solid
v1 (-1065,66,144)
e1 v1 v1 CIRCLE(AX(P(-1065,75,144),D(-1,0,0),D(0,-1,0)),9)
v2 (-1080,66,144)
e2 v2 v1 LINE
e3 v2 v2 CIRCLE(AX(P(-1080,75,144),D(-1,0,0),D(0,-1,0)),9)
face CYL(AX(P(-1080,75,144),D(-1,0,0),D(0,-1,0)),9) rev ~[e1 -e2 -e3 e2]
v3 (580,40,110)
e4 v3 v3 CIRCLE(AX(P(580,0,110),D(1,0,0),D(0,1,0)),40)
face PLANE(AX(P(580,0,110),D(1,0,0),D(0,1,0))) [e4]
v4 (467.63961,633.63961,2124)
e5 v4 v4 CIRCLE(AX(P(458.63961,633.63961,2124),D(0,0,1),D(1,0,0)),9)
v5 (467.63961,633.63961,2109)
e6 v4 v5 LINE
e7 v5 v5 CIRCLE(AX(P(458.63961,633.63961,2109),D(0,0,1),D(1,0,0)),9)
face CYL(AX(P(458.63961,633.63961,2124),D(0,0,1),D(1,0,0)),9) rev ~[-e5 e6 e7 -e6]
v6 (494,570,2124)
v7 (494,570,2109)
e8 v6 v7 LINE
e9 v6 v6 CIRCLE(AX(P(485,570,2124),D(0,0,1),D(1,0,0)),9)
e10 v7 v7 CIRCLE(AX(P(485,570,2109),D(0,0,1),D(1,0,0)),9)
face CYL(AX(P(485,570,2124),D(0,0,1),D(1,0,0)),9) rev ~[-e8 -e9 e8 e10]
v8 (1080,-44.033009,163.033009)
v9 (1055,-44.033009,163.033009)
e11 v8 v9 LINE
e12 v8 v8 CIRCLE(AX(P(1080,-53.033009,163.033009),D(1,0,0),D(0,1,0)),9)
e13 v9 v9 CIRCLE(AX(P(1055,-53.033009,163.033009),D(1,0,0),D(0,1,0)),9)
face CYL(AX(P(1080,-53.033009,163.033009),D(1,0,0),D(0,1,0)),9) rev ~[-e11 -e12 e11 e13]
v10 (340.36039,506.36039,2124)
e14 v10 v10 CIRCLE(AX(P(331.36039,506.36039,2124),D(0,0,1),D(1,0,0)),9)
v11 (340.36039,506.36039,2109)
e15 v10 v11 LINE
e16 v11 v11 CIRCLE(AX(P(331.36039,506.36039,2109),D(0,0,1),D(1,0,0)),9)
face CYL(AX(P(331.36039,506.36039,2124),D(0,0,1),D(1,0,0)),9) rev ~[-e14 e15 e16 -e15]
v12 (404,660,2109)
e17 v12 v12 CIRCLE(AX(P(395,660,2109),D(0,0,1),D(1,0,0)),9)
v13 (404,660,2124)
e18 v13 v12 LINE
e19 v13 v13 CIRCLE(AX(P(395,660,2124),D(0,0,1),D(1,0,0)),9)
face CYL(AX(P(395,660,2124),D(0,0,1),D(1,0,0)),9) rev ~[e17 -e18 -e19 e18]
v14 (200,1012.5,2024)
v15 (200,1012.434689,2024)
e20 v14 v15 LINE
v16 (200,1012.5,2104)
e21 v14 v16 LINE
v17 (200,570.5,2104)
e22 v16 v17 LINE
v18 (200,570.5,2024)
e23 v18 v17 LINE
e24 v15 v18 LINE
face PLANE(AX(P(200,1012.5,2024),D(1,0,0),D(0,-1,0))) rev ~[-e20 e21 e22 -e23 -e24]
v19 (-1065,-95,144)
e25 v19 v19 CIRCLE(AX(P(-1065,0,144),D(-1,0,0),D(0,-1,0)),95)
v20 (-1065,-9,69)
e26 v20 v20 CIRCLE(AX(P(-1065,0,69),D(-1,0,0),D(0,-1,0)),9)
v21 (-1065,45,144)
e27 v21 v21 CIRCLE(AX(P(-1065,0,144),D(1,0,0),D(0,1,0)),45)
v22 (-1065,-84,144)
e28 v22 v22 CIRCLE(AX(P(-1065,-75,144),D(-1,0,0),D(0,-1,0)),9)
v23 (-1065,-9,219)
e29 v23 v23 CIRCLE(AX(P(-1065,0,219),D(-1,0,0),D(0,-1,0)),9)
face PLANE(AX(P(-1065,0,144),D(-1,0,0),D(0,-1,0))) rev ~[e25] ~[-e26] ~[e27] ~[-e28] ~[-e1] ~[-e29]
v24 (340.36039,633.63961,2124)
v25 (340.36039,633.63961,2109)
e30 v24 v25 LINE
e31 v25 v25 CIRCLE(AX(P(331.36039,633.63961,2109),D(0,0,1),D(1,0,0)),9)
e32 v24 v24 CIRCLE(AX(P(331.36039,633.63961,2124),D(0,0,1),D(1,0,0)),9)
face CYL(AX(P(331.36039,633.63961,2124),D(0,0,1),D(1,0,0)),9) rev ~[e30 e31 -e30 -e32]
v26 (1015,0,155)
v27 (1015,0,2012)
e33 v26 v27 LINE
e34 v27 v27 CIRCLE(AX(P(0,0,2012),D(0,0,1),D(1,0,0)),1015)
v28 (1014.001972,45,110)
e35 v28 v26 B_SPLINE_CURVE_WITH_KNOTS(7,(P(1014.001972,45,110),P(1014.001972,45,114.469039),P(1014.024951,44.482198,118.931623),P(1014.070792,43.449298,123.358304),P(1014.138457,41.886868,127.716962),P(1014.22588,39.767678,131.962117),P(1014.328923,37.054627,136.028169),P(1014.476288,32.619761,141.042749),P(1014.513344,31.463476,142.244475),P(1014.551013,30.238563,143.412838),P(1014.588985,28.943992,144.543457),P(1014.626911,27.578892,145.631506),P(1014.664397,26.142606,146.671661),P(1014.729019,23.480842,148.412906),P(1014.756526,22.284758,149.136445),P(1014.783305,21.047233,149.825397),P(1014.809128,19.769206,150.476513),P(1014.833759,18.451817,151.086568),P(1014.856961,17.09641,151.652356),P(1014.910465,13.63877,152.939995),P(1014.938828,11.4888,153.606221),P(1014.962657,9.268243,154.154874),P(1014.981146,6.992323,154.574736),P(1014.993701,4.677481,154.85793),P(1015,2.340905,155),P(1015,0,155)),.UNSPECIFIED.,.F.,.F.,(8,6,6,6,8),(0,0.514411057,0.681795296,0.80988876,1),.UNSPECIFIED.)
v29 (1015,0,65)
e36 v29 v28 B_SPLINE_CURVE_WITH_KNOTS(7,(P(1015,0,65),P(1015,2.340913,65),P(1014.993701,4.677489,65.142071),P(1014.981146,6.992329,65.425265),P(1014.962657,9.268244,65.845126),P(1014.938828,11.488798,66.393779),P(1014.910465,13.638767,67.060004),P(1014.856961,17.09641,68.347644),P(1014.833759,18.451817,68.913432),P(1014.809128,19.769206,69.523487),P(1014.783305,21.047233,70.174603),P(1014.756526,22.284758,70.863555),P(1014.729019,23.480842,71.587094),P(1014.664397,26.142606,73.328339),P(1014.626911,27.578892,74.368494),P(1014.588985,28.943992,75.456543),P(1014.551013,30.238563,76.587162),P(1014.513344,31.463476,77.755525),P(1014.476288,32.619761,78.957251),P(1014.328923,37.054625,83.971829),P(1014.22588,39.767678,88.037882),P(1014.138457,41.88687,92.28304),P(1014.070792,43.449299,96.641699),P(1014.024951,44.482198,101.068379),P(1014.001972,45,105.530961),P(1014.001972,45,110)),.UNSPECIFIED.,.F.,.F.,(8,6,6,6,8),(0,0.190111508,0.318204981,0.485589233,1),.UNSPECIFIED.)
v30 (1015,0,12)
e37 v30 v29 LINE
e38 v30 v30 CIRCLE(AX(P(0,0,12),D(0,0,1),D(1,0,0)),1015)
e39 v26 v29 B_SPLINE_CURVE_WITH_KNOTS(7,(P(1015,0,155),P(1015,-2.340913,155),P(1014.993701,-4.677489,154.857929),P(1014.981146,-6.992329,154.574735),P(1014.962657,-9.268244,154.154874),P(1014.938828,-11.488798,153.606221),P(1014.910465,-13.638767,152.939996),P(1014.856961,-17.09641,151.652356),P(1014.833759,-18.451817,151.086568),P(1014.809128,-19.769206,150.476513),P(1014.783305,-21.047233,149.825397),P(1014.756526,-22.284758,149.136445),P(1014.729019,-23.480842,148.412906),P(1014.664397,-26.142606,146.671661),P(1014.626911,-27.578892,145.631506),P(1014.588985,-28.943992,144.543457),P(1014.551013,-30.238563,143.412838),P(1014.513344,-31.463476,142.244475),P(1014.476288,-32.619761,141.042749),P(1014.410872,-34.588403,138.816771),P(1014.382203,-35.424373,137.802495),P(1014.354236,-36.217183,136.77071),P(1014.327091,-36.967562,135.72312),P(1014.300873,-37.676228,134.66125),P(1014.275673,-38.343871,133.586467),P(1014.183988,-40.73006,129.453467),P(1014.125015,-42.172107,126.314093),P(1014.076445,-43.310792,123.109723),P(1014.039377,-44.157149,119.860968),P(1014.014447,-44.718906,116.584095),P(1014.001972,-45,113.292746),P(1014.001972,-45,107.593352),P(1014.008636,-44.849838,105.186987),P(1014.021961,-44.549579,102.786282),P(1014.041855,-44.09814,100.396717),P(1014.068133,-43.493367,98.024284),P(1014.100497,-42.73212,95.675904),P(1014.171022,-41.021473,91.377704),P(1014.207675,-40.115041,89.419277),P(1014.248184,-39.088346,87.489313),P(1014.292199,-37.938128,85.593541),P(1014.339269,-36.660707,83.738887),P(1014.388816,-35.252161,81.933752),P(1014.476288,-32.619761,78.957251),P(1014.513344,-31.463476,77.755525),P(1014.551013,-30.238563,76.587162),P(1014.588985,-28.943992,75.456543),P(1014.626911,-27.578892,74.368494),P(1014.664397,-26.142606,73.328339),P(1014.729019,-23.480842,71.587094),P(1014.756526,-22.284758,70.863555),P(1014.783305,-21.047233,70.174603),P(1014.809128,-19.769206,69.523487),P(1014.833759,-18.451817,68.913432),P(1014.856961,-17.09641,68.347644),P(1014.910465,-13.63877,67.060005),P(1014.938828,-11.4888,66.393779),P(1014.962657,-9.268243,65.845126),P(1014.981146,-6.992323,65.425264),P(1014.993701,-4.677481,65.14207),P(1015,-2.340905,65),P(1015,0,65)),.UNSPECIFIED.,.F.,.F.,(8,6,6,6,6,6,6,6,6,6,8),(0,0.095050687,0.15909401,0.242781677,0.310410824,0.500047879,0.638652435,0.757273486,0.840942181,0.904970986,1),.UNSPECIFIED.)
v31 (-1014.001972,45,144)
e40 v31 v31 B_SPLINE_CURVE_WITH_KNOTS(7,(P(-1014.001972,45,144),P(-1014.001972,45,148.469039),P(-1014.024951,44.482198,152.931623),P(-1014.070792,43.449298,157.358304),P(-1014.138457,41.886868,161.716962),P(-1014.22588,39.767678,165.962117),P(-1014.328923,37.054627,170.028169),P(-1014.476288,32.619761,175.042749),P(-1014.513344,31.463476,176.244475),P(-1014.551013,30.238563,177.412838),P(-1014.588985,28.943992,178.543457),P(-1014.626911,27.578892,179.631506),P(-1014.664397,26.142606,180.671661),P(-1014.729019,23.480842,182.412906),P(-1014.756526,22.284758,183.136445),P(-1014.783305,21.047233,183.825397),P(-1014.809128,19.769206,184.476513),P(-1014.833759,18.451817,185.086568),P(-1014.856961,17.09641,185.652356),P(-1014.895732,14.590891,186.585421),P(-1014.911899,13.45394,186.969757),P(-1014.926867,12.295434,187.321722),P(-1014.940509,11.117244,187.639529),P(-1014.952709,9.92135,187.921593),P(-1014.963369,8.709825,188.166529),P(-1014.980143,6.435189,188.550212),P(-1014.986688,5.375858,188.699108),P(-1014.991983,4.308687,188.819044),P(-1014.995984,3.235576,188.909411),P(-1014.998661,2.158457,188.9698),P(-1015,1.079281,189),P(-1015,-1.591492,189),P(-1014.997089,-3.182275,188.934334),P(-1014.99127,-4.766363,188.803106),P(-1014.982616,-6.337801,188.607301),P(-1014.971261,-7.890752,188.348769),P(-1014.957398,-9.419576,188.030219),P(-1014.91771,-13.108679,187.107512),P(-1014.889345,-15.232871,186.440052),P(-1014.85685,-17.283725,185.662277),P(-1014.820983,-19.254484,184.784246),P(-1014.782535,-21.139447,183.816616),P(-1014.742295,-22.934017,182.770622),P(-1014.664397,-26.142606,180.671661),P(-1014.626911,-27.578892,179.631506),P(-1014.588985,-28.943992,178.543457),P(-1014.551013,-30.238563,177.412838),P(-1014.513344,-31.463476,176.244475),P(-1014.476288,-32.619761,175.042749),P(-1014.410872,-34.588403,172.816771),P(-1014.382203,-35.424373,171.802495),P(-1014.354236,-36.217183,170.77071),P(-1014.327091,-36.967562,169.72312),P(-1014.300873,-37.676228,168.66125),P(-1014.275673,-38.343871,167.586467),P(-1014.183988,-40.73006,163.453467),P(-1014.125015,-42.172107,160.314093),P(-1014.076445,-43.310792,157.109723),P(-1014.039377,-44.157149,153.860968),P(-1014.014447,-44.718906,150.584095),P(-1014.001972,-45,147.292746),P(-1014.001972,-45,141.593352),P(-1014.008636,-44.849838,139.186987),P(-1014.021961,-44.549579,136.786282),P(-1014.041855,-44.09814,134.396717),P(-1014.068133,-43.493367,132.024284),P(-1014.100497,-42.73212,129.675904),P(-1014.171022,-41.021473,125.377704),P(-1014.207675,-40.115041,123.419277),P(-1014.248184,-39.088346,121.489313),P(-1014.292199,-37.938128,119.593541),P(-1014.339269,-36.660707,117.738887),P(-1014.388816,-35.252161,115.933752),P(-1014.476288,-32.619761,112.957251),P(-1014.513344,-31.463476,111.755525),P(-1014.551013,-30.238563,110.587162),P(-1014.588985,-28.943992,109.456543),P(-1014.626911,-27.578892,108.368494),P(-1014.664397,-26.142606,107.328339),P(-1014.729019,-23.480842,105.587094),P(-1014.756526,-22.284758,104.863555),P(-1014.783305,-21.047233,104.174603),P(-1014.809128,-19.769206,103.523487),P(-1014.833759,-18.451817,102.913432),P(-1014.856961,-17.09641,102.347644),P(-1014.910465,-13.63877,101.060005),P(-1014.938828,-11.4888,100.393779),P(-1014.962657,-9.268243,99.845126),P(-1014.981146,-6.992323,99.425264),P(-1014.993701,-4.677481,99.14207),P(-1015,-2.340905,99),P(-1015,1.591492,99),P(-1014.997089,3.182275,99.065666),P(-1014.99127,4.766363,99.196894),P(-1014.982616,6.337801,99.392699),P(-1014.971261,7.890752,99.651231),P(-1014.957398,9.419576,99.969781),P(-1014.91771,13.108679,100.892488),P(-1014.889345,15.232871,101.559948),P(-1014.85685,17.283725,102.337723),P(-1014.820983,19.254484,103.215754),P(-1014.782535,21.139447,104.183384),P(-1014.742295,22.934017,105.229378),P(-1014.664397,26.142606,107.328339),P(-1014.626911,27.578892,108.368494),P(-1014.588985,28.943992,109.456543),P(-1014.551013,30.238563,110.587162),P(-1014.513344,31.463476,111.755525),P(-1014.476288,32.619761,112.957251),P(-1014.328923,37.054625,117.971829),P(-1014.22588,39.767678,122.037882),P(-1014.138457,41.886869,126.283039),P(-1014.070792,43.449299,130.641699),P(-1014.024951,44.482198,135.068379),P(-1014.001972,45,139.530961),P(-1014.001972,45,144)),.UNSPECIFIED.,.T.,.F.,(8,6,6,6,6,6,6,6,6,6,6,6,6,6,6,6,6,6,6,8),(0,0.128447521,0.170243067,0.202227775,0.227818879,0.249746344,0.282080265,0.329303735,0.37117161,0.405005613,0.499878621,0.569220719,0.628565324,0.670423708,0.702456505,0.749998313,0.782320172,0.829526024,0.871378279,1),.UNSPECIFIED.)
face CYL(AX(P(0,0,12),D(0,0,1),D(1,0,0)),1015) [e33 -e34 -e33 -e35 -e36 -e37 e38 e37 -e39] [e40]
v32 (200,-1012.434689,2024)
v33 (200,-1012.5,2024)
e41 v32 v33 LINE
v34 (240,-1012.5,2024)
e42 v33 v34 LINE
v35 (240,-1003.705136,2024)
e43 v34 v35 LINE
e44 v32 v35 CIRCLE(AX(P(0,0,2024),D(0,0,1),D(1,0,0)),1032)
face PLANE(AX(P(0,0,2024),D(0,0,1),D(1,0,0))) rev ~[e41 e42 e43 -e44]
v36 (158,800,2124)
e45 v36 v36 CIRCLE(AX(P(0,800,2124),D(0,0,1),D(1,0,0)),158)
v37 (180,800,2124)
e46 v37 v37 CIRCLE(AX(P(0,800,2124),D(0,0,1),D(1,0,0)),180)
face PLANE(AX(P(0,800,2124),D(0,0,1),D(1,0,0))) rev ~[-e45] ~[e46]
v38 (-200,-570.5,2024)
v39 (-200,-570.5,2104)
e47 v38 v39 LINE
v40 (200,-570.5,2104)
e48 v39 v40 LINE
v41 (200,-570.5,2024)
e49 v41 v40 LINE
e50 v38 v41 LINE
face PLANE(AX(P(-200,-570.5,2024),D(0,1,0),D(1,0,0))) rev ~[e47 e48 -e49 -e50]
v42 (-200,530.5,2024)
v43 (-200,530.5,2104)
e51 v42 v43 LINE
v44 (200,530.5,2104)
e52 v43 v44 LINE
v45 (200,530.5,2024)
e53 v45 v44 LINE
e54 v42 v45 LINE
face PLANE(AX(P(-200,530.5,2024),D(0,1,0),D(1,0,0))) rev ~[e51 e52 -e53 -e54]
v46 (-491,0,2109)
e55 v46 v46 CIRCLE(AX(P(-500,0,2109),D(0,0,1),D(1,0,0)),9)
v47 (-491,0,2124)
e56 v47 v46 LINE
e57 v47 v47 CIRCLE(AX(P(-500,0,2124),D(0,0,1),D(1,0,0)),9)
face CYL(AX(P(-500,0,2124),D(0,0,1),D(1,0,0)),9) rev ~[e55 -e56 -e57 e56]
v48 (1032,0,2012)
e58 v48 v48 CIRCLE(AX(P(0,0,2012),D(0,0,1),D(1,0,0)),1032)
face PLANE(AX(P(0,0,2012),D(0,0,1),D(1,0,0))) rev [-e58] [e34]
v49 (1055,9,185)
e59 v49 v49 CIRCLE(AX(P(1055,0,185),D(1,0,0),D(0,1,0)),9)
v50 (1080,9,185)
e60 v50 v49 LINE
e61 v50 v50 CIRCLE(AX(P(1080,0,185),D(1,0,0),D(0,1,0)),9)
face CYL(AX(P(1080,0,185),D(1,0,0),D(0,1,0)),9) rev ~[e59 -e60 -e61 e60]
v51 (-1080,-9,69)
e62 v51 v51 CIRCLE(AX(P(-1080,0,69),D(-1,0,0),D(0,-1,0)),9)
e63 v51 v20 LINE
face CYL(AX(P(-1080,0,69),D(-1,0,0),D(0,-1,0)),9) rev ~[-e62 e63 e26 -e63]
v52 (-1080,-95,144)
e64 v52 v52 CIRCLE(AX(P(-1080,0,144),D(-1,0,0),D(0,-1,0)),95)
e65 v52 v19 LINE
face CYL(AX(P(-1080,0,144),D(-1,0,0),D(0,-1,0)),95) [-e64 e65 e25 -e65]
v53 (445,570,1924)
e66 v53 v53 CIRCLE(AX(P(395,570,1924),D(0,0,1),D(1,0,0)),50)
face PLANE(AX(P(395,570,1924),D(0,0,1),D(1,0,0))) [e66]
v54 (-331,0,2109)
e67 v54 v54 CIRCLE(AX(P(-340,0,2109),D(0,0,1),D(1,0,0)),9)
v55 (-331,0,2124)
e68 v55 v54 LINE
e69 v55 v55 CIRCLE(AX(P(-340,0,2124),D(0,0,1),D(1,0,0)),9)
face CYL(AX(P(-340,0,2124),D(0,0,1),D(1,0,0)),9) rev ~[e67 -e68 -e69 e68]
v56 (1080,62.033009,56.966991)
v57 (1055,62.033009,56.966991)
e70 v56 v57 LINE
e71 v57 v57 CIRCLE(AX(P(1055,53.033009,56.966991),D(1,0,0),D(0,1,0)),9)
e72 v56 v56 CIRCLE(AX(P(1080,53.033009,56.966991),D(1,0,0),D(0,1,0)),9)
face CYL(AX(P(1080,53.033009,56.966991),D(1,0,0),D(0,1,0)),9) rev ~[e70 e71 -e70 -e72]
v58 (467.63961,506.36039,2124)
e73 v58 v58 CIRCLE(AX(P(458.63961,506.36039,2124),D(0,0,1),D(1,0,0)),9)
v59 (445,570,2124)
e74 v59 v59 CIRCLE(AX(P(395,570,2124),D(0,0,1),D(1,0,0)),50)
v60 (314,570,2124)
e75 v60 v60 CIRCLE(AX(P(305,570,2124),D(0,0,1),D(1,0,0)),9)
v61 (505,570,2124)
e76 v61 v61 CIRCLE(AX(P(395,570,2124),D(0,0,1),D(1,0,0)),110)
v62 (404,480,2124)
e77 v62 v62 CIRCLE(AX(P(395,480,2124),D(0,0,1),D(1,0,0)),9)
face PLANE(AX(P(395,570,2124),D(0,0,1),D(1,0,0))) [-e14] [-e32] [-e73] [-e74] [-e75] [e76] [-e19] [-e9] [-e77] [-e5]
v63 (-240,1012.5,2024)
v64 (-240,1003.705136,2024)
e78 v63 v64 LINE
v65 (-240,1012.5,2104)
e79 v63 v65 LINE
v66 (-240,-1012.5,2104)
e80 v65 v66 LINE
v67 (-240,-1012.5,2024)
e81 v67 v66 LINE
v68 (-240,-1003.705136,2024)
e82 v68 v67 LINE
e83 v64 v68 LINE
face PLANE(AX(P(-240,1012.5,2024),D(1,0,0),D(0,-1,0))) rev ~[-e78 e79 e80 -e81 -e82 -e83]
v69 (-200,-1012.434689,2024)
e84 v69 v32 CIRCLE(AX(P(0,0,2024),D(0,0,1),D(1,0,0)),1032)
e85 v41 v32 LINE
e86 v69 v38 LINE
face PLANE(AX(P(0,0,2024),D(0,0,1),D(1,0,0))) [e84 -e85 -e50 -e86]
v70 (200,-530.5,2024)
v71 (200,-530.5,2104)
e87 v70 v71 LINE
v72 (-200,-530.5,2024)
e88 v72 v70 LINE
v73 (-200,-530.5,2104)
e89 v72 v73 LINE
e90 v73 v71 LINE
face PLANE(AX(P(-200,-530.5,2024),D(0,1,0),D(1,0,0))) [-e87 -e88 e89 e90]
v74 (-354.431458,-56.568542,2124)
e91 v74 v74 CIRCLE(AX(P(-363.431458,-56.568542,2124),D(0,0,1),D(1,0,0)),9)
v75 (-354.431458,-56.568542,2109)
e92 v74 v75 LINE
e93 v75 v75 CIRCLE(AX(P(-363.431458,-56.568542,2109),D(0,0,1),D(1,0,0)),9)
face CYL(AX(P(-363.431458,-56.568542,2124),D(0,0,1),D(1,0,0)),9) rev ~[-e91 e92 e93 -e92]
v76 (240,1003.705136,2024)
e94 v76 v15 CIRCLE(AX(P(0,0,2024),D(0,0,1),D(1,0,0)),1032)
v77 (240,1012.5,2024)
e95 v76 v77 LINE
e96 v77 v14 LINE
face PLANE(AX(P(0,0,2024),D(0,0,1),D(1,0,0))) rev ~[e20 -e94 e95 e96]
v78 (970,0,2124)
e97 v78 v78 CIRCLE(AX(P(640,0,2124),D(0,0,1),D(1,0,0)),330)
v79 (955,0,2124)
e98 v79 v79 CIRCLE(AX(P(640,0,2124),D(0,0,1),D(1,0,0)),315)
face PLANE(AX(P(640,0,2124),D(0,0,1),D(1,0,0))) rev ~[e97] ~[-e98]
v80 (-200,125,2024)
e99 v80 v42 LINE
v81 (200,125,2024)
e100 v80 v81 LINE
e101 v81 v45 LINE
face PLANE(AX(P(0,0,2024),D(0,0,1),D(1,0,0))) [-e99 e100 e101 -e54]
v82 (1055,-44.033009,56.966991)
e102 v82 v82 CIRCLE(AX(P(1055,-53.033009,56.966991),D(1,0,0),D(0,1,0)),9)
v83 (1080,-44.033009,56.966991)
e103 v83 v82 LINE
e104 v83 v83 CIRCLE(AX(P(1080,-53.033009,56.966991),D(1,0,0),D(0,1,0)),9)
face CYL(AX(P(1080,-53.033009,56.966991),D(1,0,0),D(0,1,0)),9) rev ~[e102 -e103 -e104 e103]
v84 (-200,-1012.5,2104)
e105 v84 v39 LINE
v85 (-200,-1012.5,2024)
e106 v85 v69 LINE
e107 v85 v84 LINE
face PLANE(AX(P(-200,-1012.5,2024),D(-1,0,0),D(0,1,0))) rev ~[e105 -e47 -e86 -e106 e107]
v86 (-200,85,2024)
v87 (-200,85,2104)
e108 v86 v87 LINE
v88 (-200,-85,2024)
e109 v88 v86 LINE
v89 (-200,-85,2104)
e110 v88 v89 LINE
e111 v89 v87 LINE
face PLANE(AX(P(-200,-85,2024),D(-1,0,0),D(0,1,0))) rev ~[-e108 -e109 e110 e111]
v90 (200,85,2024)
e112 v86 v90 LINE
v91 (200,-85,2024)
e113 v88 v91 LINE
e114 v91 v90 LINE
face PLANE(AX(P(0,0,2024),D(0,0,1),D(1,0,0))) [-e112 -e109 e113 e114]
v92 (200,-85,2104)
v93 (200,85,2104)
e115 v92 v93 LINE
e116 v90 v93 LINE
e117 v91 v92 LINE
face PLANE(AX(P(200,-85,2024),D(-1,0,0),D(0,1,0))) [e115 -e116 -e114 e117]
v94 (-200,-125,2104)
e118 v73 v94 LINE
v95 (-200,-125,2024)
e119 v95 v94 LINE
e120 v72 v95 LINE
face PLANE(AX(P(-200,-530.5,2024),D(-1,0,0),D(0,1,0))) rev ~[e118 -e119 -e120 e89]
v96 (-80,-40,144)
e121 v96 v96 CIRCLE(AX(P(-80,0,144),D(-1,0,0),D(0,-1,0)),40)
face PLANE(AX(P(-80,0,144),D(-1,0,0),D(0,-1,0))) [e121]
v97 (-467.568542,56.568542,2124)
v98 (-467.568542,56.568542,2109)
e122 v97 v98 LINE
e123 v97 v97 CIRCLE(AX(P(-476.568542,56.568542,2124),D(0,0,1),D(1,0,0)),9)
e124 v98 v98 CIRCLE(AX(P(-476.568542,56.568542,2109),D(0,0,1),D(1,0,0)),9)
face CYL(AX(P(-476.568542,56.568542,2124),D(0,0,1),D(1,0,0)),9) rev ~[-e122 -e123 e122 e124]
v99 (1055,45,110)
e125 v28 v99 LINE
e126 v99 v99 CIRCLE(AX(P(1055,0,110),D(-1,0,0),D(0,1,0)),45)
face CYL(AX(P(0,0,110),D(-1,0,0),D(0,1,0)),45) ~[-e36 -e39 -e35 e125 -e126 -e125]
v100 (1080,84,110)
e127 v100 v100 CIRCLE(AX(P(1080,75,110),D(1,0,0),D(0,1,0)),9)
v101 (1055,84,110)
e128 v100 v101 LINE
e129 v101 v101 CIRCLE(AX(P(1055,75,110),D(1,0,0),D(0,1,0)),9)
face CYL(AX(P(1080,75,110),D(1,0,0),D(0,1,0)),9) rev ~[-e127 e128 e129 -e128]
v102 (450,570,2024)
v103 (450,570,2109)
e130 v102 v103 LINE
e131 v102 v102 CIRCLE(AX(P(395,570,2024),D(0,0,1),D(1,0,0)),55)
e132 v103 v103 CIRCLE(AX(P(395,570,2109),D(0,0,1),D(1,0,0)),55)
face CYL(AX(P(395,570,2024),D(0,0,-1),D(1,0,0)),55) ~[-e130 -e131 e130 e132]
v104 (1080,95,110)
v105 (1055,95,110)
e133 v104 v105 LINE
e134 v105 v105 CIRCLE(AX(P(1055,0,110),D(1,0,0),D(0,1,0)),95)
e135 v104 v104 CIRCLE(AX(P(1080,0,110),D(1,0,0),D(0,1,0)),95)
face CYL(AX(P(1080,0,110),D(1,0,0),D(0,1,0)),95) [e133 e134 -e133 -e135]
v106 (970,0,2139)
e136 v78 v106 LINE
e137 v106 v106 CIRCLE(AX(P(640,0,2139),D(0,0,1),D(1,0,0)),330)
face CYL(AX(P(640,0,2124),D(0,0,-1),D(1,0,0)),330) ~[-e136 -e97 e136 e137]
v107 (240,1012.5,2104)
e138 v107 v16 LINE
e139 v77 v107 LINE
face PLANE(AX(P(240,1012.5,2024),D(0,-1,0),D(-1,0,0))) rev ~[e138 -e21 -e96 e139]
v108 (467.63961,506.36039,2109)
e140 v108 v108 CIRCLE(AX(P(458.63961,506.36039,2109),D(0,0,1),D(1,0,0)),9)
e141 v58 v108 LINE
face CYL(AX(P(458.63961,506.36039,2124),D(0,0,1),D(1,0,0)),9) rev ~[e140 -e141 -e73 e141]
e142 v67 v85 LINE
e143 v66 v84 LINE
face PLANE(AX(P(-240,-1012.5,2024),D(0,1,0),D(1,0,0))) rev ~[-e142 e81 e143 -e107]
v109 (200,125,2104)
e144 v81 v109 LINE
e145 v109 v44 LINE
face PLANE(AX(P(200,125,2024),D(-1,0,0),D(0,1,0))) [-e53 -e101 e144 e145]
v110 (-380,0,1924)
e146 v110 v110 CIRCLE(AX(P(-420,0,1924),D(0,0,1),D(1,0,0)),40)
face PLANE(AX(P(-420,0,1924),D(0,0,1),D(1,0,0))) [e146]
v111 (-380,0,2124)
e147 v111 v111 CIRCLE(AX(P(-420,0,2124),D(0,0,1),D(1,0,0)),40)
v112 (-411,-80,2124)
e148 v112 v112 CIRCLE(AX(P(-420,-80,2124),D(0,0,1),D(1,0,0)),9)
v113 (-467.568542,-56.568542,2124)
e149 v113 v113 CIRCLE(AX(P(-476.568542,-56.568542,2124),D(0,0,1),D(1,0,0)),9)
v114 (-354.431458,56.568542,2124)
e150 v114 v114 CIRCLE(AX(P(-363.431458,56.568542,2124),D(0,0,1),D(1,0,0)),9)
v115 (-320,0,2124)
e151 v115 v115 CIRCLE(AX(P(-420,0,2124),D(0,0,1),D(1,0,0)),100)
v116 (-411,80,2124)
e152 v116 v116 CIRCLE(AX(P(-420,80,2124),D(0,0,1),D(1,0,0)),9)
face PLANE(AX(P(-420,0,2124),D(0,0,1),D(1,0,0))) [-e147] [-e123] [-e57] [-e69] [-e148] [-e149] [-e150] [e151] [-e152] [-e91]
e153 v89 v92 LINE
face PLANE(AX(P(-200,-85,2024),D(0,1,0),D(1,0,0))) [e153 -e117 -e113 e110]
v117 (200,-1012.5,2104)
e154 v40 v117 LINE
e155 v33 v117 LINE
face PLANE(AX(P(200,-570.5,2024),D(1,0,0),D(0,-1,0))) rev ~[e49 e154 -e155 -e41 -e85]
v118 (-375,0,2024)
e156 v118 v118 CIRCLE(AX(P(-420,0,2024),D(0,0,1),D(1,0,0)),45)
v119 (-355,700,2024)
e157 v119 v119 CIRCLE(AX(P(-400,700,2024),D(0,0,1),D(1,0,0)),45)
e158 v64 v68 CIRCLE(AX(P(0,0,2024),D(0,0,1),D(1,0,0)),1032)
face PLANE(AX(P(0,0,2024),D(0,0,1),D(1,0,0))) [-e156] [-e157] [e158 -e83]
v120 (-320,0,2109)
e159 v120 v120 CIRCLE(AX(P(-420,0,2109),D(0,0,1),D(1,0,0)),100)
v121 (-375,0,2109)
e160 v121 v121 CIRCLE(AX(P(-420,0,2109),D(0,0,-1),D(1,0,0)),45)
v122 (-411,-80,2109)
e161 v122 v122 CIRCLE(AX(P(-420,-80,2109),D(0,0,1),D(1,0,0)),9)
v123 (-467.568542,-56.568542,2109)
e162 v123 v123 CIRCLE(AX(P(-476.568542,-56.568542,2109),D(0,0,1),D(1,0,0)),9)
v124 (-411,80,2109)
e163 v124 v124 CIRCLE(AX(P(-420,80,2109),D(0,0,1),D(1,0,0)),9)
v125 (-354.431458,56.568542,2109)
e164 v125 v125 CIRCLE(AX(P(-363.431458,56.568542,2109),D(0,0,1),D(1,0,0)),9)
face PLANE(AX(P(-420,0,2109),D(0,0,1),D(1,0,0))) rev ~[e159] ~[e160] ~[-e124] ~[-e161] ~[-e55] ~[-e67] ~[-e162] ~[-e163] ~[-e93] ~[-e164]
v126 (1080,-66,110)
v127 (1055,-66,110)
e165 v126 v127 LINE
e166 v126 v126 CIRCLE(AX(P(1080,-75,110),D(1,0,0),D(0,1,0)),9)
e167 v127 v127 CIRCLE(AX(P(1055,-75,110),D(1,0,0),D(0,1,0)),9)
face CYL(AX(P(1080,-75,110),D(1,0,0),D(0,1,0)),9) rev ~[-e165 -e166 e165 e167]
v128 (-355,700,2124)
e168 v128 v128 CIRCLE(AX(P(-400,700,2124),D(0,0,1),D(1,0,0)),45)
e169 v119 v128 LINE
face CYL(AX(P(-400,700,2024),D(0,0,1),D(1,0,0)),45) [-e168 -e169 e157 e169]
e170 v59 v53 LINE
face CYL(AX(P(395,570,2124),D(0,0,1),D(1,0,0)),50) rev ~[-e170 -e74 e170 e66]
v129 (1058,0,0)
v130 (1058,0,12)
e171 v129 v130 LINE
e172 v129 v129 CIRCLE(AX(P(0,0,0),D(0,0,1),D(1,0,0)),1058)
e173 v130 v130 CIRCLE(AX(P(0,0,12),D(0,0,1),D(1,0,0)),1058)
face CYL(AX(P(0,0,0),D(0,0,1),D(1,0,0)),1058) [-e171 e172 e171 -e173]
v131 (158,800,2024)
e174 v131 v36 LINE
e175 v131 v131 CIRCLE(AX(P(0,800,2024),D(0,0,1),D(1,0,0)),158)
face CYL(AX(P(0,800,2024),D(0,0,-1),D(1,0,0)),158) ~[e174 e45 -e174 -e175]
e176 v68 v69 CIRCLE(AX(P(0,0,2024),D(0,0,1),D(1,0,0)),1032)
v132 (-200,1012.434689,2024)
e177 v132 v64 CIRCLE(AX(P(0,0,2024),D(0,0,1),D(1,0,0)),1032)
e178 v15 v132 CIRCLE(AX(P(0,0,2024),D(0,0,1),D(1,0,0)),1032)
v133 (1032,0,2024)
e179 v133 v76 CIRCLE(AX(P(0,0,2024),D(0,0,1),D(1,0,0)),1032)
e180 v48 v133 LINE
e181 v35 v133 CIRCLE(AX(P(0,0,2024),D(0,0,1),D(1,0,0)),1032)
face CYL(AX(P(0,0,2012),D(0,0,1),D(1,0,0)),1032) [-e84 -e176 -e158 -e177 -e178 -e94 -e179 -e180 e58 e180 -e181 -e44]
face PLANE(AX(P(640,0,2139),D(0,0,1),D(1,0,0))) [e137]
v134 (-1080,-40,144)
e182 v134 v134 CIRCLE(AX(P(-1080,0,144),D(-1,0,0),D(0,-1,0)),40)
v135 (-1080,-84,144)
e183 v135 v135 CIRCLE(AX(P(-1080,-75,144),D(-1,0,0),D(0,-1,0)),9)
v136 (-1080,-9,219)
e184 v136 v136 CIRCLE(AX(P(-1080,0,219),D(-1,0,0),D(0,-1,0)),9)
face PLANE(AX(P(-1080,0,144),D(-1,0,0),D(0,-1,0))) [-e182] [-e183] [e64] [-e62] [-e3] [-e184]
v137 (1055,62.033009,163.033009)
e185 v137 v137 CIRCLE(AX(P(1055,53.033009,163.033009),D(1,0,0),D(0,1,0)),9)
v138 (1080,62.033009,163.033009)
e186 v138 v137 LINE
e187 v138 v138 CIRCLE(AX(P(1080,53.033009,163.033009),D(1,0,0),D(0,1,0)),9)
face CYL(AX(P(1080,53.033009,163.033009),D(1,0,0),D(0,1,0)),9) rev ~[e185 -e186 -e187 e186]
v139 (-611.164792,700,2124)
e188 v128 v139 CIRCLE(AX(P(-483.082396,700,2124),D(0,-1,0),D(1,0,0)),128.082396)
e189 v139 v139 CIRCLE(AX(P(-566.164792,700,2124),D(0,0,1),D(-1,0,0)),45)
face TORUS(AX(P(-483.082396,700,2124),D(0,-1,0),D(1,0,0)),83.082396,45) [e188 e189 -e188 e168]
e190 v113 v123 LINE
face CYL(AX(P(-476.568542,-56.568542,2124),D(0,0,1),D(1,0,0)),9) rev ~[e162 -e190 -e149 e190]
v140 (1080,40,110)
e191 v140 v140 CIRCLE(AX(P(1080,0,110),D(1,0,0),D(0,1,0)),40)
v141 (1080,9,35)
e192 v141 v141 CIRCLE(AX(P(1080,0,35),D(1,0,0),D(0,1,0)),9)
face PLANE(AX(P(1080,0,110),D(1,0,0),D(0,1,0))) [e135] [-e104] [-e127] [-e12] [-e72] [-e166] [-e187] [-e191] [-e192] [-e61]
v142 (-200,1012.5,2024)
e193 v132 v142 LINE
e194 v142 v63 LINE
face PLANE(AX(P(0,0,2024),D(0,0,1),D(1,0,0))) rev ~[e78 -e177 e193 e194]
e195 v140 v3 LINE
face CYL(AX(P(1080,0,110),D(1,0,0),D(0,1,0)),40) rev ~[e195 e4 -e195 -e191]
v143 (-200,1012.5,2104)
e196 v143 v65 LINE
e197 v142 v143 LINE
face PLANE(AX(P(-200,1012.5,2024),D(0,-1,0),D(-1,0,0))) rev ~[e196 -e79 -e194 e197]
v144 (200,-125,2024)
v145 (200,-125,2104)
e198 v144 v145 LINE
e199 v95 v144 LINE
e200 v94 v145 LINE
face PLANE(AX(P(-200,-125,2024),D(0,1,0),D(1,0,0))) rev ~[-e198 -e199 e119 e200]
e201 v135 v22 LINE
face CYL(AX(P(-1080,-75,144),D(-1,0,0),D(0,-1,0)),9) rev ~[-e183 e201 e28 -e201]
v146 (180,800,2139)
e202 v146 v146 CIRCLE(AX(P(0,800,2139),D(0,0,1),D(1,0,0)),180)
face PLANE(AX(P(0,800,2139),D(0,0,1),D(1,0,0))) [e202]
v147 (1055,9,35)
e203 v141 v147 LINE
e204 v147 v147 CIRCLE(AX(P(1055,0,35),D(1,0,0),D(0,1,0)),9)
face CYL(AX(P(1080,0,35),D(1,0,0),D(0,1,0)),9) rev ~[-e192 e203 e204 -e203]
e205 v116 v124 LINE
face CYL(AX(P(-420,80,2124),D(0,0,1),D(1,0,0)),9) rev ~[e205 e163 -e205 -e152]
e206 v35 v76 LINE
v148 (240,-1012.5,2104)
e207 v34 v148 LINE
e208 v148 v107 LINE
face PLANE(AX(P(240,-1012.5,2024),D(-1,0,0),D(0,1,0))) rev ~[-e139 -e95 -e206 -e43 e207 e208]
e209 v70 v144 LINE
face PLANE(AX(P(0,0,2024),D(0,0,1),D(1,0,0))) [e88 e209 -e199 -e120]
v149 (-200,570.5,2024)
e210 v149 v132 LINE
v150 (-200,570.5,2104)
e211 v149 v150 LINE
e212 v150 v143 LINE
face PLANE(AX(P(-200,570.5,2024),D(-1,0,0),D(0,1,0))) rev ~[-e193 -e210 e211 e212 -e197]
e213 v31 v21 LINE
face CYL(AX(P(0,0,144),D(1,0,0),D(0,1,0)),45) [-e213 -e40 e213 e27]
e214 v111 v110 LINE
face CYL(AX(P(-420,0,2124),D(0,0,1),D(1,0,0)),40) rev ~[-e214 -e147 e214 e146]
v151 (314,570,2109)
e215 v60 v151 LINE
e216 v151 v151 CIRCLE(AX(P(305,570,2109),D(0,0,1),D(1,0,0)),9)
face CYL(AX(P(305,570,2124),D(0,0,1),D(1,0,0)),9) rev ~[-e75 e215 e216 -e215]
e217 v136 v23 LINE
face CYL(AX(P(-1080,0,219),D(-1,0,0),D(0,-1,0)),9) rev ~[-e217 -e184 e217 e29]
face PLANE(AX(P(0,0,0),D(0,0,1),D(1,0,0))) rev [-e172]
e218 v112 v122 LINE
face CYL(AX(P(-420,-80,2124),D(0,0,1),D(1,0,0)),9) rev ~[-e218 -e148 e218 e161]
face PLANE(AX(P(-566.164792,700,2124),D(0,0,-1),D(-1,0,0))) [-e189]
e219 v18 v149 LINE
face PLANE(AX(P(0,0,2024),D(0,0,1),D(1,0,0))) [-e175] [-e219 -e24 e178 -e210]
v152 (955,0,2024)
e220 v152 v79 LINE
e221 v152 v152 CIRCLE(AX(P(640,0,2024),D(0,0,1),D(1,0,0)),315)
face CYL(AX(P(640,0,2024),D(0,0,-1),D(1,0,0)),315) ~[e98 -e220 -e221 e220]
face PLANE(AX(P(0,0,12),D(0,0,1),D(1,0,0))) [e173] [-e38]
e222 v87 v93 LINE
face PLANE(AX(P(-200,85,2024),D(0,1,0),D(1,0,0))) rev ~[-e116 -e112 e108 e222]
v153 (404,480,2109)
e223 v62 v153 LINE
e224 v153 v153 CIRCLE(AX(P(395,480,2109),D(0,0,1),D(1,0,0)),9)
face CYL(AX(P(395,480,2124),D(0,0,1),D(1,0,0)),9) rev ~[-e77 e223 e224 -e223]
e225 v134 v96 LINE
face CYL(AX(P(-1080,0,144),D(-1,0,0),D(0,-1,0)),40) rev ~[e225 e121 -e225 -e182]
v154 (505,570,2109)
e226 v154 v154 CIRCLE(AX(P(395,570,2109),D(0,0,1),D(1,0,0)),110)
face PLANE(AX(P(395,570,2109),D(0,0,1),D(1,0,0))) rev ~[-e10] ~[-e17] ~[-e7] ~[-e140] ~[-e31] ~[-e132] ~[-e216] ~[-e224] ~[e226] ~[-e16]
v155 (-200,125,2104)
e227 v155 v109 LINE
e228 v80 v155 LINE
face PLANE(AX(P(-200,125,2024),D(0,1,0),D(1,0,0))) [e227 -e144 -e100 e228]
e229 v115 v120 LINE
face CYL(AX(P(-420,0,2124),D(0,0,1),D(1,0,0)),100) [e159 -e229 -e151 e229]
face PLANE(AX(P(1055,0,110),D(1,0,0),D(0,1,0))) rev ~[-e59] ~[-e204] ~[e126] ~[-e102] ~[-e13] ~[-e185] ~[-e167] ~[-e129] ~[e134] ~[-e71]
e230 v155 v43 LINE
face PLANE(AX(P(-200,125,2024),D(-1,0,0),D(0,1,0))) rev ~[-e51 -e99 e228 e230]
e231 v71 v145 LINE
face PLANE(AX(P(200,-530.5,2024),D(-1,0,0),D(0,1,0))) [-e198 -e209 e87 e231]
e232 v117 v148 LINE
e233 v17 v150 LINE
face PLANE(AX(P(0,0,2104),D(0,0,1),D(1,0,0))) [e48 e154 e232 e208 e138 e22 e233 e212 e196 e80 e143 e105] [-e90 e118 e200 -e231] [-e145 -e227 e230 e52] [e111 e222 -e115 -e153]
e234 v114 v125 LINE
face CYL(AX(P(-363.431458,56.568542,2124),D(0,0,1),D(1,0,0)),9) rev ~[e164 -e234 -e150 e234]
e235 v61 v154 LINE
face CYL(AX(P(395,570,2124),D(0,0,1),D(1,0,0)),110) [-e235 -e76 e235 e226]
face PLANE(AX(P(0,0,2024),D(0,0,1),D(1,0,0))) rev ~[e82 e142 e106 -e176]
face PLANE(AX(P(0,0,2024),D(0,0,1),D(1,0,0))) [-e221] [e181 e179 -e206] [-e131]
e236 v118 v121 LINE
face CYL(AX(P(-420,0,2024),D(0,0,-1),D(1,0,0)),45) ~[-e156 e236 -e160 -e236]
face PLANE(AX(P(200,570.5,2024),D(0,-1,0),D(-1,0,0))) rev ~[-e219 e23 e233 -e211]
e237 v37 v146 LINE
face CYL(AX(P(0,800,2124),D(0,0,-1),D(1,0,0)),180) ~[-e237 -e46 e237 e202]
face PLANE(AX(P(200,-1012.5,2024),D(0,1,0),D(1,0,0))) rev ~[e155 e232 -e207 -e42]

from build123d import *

# Parameters (mm, degrees)
F2_W      = 400
F2_H      = 405.5
F2_H_2    = 170
F3_DEPTH  = 80
F4_R      = 315
F5_DEPTH  = 100
F6_R      = 330
F7_DEPTH  = 15
F8_R      = 45
F9_DEPTH  = 100
F10_R     = 100
F10_R_2   = 9
F11_DEPTH = 15
F12_R     = 40
F13_DEPTH = 200
F14_R     = 158
F15_DEPTH = 100
F16_R     = 180
F17_DEPTH = 15
F18_R     = 55
F19_DEPTH = 100
F20_R     = 110
F20_R_2   = 9
F20_R_3   = 55
F21_DEPTH = 15
F22_R     = 50
F23_DEPTH = 200
F24_R     = 45
F28_R     = 45
F29_DEPTH = 1080
F30_R     = 95
F30_R_2   = 9
F31_DEPTH = 25
F32_R     = 40
F33_DEPTH = 500
F34_R     = 45
F35_DEPTH = 1080
F36_R     = 95
F36_R_2   = 9
F37_DEPTH = 15
F38_R     = 40
F39_DEPTH = 1000


with BuildPart() as f1:
    # F0 (on Front) → F1 (revolve)
    with BuildSketch(Plane.XZ):
        Polygon((0, 2024), (0, 0), (1015, 0), (1058, 0), (1058, 12), (1015, 12), (1015, 2012), (1032, 2012), (1032, 2024), (1015, 2024), align=None)
    revolve(axis=Axis((0, 0, 1012), (0, 0, 1)))

    # F2 (on face) → F3 (join)
    with BuildSketch(Plane.XY.offset(2024)):
        Polygon((-200, 1012.5), (-240, 1012.5), (-240, -1012.5), (-200, -1012.5), (-200, -570.5), (200, -570.5), (200, -1012.5), (240, -1012.5), (240, 1012.5), (200, 1012.5), (200, 570.5), (-200, 570.5), align=None)
        with Locations((0, -327.75)):
            Rectangle(F2_W, F2_H, mode=Mode.SUBTRACT)
        Rectangle(F2_W, F2_H_2, mode=Mode.SUBTRACT)
        with Locations((0, 327.75)):
            Rectangle(F2_W, F2_H, mode=Mode.SUBTRACT)
    extrude(amount=F3_DEPTH)

    # F4 (on face) → F5 (join)
    with BuildSketch(Plane.XY.offset(2024)):
        with Locations((640, 0)):
            Circle(F4_R)
    extrude(amount=F5_DEPTH)

    # F6 (on face) → F7 (join)
    with BuildSketch(Plane.XY.offset(2124)):
        with Locations((640, 0)):
            Circle(F6_R)
    extrude(amount=F7_DEPTH)

    # F8 (on face) → F9 (join)
    with BuildSketch(Plane.XY.offset(2024)):
        with Locations((-420, 0)):
            Circle(F8_R)
    extrude(amount=F9_DEPTH)

    # F10 (on face) → F11 (join)
    with BuildSketch(Plane.XY.offset(2124)):
        with Locations((-420, 0)):
            Circle(F10_R)
        with Locations((-476.568542, -56.568542)):
            Circle(F10_R_2, mode=Mode.SUBTRACT)
        with Locations((-420, -80)):
            Circle(F10_R_2, mode=Mode.SUBTRACT)
        with Locations((-363.431458, -56.568542)):
            Circle(F10_R_2, mode=Mode.SUBTRACT)
        with Locations((-500, 0)):
            Circle(F10_R_2, mode=Mode.SUBTRACT)
        with Locations((-476.568542, 56.568542)):
            Circle(F10_R_2, mode=Mode.SUBTRACT)
        with Locations((-340, 0)):
            Circle(F10_R_2, mode=Mode.SUBTRACT)
        with Locations((-420, 80)):
            Circle(F10_R_2, mode=Mode.SUBTRACT)
        with Locations((-363.431458, 56.568542)):
            Circle(F10_R_2, mode=Mode.SUBTRACT)
    extrude(amount=-F11_DEPTH)

    # F12 (on face) → F13 (cut)
    with BuildSketch(Plane.XY.offset(2124)):
        with Locations((-420, 0)):
            Circle(F12_R)
    extrude(amount=-F13_DEPTH, mode=Mode.SUBTRACT)

    # F14 (on face) → F15 (join)
    with BuildSketch(Plane.XY.offset(2024)):
        with Locations((0, 800)):
            Circle(F14_R)
    extrude(amount=F15_DEPTH)

    # F16 (on face) → F17 (join)
    with BuildSketch(Plane.XY.offset(2124)):
        with Locations((0, 800)):
            Circle(F16_R)
    extrude(amount=F17_DEPTH)

    # F18 (on face) → F19 (join)
    with BuildSketch(Plane.XY.offset(2024)):
        with Locations((395, 570)):
            Circle(F18_R)
    extrude(amount=F19_DEPTH)

    # F20 (on face) → F21 (join)
    with BuildSketch(Plane.XY.offset(2124)):
        with Locations((395, 570)):
            Circle(F20_R)
        with Locations((331.36039, 506.36039)):
            Circle(F20_R_2, mode=Mode.SUBTRACT)
        with Locations((395, 480)):
            Circle(F20_R_2, mode=Mode.SUBTRACT)
        with Locations((458.63961, 506.36039)):
            Circle(F20_R_2, mode=Mode.SUBTRACT)
        with Locations((305, 570)):
            Circle(F20_R_2, mode=Mode.SUBTRACT)
        with Locations((331.36039, 633.63961)):
            Circle(F20_R_2, mode=Mode.SUBTRACT)
        with Locations((395, 570)):
            Circle(F20_R_3, mode=Mode.SUBTRACT)
        with Locations((485, 570)):
            Circle(F20_R_2, mode=Mode.SUBTRACT)
        with Locations((395, 660)):
            Circle(F20_R_2, mode=Mode.SUBTRACT)
        with Locations((458.63961, 633.63961)):
            Circle(F20_R_2, mode=Mode.SUBTRACT)
    extrude(amount=-F21_DEPTH)

    # F22 (on face) → F23 (cut)
    with BuildSketch(Plane.XY.offset(2124)):
        with Locations((395, 570)):
            Circle(F22_R)
    extrude(amount=-F23_DEPTH, mode=Mode.SUBTRACT)

    # F27: sweep along a path in F26
    with BuildLine(Plane.XZ.offset(-700)) as f27_path:
        Line((-400, 2024), (-400, 2124))
        ThreePointArc((-400, 2124), (-483.082396, 2207.082396), (-566.164792, 2124))
    # F24 (on face) → F27 (sweep)
    with BuildSketch(Plane.XY.offset(2024)):
        with Locations((-400, 700)):
            Circle(F24_R)
    sweep(path=f27_path.line)

    # F28 (on Right) → F29 (join)
    with BuildSketch(Plane.YZ):
        with Locations((0, 110)):
            Circle(F28_R)
    extrude(amount=F29_DEPTH)

    # F30 (on face) → F31 (join)
    with BuildSketch(Plane.YZ.offset(1080)):
        with Locations((0, 110)):
            Circle(F30_R)
        with Locations((-53.033009, 56.966991)):
            Circle(F30_R_2, mode=Mode.SUBTRACT)
        with Locations((0, 35)):
            Circle(F30_R_2, mode=Mode.SUBTRACT)
        with Locations((53.033009, 56.966991)):
            Circle(F30_R_2, mode=Mode.SUBTRACT)
        with Locations((-75, 110)):
            Circle(F30_R_2, mode=Mode.SUBTRACT)
        with Locations((-53.033009, 163.033009)):
            Circle(F30_R_2, mode=Mode.SUBTRACT)
        with Locations((75, 110)):
            Circle(F30_R_2, mode=Mode.SUBTRACT)
        with Locations((0, 185)):
            Circle(F30_R_2, mode=Mode.SUBTRACT)
        with Locations((53.033009, 163.033009)):
            Circle(F30_R_2, mode=Mode.SUBTRACT)
    extrude(amount=-F31_DEPTH)

    # F32 (on face) → F33 (cut)
    with BuildSketch(Plane.YZ.offset(1080)):
        with Locations((0, 110)):
            Circle(F32_R)
    extrude(amount=-F33_DEPTH, mode=Mode.SUBTRACT)

    # F34 (on Right) → F35 (join)
    with BuildSketch(Plane.YZ):
        with Locations((0, 144)):
            Circle(F34_R)
    extrude(amount=-F35_DEPTH)

    # F36 (on face) → F37 (join)
    with BuildSketch(Plane(origin=(-1080, 0, 0), x_dir=(0, -1, 0), z_dir=(-1, 0, 0))):
        with Locations((0, 144)):
            Circle(F36_R)
        with Locations((0, 69)):
            Circle(F36_R_2, mode=Mode.SUBTRACT)
        with Locations((-75, 144)):
            Circle(F36_R_2, mode=Mode.SUBTRACT)
        with Locations((75, 144)):
            Circle(F36_R_2, mode=Mode.SUBTRACT)
        with Locations((0, 219)):
            Circle(F36_R_2, mode=Mode.SUBTRACT)
    extrude(amount=-F37_DEPTH)

    # F38 (on face) → F39 (cut)
    with BuildSketch(Plane(origin=(-1080, 0, 0), x_dir=(0, -1, 0), z_dir=(-1, 0, 0))):
        with Locations((0, 144)):
            Circle(F38_R)
    extrude(amount=-F39_DEPTH, mode=Mode.SUBTRACT)


solid = f1.part
